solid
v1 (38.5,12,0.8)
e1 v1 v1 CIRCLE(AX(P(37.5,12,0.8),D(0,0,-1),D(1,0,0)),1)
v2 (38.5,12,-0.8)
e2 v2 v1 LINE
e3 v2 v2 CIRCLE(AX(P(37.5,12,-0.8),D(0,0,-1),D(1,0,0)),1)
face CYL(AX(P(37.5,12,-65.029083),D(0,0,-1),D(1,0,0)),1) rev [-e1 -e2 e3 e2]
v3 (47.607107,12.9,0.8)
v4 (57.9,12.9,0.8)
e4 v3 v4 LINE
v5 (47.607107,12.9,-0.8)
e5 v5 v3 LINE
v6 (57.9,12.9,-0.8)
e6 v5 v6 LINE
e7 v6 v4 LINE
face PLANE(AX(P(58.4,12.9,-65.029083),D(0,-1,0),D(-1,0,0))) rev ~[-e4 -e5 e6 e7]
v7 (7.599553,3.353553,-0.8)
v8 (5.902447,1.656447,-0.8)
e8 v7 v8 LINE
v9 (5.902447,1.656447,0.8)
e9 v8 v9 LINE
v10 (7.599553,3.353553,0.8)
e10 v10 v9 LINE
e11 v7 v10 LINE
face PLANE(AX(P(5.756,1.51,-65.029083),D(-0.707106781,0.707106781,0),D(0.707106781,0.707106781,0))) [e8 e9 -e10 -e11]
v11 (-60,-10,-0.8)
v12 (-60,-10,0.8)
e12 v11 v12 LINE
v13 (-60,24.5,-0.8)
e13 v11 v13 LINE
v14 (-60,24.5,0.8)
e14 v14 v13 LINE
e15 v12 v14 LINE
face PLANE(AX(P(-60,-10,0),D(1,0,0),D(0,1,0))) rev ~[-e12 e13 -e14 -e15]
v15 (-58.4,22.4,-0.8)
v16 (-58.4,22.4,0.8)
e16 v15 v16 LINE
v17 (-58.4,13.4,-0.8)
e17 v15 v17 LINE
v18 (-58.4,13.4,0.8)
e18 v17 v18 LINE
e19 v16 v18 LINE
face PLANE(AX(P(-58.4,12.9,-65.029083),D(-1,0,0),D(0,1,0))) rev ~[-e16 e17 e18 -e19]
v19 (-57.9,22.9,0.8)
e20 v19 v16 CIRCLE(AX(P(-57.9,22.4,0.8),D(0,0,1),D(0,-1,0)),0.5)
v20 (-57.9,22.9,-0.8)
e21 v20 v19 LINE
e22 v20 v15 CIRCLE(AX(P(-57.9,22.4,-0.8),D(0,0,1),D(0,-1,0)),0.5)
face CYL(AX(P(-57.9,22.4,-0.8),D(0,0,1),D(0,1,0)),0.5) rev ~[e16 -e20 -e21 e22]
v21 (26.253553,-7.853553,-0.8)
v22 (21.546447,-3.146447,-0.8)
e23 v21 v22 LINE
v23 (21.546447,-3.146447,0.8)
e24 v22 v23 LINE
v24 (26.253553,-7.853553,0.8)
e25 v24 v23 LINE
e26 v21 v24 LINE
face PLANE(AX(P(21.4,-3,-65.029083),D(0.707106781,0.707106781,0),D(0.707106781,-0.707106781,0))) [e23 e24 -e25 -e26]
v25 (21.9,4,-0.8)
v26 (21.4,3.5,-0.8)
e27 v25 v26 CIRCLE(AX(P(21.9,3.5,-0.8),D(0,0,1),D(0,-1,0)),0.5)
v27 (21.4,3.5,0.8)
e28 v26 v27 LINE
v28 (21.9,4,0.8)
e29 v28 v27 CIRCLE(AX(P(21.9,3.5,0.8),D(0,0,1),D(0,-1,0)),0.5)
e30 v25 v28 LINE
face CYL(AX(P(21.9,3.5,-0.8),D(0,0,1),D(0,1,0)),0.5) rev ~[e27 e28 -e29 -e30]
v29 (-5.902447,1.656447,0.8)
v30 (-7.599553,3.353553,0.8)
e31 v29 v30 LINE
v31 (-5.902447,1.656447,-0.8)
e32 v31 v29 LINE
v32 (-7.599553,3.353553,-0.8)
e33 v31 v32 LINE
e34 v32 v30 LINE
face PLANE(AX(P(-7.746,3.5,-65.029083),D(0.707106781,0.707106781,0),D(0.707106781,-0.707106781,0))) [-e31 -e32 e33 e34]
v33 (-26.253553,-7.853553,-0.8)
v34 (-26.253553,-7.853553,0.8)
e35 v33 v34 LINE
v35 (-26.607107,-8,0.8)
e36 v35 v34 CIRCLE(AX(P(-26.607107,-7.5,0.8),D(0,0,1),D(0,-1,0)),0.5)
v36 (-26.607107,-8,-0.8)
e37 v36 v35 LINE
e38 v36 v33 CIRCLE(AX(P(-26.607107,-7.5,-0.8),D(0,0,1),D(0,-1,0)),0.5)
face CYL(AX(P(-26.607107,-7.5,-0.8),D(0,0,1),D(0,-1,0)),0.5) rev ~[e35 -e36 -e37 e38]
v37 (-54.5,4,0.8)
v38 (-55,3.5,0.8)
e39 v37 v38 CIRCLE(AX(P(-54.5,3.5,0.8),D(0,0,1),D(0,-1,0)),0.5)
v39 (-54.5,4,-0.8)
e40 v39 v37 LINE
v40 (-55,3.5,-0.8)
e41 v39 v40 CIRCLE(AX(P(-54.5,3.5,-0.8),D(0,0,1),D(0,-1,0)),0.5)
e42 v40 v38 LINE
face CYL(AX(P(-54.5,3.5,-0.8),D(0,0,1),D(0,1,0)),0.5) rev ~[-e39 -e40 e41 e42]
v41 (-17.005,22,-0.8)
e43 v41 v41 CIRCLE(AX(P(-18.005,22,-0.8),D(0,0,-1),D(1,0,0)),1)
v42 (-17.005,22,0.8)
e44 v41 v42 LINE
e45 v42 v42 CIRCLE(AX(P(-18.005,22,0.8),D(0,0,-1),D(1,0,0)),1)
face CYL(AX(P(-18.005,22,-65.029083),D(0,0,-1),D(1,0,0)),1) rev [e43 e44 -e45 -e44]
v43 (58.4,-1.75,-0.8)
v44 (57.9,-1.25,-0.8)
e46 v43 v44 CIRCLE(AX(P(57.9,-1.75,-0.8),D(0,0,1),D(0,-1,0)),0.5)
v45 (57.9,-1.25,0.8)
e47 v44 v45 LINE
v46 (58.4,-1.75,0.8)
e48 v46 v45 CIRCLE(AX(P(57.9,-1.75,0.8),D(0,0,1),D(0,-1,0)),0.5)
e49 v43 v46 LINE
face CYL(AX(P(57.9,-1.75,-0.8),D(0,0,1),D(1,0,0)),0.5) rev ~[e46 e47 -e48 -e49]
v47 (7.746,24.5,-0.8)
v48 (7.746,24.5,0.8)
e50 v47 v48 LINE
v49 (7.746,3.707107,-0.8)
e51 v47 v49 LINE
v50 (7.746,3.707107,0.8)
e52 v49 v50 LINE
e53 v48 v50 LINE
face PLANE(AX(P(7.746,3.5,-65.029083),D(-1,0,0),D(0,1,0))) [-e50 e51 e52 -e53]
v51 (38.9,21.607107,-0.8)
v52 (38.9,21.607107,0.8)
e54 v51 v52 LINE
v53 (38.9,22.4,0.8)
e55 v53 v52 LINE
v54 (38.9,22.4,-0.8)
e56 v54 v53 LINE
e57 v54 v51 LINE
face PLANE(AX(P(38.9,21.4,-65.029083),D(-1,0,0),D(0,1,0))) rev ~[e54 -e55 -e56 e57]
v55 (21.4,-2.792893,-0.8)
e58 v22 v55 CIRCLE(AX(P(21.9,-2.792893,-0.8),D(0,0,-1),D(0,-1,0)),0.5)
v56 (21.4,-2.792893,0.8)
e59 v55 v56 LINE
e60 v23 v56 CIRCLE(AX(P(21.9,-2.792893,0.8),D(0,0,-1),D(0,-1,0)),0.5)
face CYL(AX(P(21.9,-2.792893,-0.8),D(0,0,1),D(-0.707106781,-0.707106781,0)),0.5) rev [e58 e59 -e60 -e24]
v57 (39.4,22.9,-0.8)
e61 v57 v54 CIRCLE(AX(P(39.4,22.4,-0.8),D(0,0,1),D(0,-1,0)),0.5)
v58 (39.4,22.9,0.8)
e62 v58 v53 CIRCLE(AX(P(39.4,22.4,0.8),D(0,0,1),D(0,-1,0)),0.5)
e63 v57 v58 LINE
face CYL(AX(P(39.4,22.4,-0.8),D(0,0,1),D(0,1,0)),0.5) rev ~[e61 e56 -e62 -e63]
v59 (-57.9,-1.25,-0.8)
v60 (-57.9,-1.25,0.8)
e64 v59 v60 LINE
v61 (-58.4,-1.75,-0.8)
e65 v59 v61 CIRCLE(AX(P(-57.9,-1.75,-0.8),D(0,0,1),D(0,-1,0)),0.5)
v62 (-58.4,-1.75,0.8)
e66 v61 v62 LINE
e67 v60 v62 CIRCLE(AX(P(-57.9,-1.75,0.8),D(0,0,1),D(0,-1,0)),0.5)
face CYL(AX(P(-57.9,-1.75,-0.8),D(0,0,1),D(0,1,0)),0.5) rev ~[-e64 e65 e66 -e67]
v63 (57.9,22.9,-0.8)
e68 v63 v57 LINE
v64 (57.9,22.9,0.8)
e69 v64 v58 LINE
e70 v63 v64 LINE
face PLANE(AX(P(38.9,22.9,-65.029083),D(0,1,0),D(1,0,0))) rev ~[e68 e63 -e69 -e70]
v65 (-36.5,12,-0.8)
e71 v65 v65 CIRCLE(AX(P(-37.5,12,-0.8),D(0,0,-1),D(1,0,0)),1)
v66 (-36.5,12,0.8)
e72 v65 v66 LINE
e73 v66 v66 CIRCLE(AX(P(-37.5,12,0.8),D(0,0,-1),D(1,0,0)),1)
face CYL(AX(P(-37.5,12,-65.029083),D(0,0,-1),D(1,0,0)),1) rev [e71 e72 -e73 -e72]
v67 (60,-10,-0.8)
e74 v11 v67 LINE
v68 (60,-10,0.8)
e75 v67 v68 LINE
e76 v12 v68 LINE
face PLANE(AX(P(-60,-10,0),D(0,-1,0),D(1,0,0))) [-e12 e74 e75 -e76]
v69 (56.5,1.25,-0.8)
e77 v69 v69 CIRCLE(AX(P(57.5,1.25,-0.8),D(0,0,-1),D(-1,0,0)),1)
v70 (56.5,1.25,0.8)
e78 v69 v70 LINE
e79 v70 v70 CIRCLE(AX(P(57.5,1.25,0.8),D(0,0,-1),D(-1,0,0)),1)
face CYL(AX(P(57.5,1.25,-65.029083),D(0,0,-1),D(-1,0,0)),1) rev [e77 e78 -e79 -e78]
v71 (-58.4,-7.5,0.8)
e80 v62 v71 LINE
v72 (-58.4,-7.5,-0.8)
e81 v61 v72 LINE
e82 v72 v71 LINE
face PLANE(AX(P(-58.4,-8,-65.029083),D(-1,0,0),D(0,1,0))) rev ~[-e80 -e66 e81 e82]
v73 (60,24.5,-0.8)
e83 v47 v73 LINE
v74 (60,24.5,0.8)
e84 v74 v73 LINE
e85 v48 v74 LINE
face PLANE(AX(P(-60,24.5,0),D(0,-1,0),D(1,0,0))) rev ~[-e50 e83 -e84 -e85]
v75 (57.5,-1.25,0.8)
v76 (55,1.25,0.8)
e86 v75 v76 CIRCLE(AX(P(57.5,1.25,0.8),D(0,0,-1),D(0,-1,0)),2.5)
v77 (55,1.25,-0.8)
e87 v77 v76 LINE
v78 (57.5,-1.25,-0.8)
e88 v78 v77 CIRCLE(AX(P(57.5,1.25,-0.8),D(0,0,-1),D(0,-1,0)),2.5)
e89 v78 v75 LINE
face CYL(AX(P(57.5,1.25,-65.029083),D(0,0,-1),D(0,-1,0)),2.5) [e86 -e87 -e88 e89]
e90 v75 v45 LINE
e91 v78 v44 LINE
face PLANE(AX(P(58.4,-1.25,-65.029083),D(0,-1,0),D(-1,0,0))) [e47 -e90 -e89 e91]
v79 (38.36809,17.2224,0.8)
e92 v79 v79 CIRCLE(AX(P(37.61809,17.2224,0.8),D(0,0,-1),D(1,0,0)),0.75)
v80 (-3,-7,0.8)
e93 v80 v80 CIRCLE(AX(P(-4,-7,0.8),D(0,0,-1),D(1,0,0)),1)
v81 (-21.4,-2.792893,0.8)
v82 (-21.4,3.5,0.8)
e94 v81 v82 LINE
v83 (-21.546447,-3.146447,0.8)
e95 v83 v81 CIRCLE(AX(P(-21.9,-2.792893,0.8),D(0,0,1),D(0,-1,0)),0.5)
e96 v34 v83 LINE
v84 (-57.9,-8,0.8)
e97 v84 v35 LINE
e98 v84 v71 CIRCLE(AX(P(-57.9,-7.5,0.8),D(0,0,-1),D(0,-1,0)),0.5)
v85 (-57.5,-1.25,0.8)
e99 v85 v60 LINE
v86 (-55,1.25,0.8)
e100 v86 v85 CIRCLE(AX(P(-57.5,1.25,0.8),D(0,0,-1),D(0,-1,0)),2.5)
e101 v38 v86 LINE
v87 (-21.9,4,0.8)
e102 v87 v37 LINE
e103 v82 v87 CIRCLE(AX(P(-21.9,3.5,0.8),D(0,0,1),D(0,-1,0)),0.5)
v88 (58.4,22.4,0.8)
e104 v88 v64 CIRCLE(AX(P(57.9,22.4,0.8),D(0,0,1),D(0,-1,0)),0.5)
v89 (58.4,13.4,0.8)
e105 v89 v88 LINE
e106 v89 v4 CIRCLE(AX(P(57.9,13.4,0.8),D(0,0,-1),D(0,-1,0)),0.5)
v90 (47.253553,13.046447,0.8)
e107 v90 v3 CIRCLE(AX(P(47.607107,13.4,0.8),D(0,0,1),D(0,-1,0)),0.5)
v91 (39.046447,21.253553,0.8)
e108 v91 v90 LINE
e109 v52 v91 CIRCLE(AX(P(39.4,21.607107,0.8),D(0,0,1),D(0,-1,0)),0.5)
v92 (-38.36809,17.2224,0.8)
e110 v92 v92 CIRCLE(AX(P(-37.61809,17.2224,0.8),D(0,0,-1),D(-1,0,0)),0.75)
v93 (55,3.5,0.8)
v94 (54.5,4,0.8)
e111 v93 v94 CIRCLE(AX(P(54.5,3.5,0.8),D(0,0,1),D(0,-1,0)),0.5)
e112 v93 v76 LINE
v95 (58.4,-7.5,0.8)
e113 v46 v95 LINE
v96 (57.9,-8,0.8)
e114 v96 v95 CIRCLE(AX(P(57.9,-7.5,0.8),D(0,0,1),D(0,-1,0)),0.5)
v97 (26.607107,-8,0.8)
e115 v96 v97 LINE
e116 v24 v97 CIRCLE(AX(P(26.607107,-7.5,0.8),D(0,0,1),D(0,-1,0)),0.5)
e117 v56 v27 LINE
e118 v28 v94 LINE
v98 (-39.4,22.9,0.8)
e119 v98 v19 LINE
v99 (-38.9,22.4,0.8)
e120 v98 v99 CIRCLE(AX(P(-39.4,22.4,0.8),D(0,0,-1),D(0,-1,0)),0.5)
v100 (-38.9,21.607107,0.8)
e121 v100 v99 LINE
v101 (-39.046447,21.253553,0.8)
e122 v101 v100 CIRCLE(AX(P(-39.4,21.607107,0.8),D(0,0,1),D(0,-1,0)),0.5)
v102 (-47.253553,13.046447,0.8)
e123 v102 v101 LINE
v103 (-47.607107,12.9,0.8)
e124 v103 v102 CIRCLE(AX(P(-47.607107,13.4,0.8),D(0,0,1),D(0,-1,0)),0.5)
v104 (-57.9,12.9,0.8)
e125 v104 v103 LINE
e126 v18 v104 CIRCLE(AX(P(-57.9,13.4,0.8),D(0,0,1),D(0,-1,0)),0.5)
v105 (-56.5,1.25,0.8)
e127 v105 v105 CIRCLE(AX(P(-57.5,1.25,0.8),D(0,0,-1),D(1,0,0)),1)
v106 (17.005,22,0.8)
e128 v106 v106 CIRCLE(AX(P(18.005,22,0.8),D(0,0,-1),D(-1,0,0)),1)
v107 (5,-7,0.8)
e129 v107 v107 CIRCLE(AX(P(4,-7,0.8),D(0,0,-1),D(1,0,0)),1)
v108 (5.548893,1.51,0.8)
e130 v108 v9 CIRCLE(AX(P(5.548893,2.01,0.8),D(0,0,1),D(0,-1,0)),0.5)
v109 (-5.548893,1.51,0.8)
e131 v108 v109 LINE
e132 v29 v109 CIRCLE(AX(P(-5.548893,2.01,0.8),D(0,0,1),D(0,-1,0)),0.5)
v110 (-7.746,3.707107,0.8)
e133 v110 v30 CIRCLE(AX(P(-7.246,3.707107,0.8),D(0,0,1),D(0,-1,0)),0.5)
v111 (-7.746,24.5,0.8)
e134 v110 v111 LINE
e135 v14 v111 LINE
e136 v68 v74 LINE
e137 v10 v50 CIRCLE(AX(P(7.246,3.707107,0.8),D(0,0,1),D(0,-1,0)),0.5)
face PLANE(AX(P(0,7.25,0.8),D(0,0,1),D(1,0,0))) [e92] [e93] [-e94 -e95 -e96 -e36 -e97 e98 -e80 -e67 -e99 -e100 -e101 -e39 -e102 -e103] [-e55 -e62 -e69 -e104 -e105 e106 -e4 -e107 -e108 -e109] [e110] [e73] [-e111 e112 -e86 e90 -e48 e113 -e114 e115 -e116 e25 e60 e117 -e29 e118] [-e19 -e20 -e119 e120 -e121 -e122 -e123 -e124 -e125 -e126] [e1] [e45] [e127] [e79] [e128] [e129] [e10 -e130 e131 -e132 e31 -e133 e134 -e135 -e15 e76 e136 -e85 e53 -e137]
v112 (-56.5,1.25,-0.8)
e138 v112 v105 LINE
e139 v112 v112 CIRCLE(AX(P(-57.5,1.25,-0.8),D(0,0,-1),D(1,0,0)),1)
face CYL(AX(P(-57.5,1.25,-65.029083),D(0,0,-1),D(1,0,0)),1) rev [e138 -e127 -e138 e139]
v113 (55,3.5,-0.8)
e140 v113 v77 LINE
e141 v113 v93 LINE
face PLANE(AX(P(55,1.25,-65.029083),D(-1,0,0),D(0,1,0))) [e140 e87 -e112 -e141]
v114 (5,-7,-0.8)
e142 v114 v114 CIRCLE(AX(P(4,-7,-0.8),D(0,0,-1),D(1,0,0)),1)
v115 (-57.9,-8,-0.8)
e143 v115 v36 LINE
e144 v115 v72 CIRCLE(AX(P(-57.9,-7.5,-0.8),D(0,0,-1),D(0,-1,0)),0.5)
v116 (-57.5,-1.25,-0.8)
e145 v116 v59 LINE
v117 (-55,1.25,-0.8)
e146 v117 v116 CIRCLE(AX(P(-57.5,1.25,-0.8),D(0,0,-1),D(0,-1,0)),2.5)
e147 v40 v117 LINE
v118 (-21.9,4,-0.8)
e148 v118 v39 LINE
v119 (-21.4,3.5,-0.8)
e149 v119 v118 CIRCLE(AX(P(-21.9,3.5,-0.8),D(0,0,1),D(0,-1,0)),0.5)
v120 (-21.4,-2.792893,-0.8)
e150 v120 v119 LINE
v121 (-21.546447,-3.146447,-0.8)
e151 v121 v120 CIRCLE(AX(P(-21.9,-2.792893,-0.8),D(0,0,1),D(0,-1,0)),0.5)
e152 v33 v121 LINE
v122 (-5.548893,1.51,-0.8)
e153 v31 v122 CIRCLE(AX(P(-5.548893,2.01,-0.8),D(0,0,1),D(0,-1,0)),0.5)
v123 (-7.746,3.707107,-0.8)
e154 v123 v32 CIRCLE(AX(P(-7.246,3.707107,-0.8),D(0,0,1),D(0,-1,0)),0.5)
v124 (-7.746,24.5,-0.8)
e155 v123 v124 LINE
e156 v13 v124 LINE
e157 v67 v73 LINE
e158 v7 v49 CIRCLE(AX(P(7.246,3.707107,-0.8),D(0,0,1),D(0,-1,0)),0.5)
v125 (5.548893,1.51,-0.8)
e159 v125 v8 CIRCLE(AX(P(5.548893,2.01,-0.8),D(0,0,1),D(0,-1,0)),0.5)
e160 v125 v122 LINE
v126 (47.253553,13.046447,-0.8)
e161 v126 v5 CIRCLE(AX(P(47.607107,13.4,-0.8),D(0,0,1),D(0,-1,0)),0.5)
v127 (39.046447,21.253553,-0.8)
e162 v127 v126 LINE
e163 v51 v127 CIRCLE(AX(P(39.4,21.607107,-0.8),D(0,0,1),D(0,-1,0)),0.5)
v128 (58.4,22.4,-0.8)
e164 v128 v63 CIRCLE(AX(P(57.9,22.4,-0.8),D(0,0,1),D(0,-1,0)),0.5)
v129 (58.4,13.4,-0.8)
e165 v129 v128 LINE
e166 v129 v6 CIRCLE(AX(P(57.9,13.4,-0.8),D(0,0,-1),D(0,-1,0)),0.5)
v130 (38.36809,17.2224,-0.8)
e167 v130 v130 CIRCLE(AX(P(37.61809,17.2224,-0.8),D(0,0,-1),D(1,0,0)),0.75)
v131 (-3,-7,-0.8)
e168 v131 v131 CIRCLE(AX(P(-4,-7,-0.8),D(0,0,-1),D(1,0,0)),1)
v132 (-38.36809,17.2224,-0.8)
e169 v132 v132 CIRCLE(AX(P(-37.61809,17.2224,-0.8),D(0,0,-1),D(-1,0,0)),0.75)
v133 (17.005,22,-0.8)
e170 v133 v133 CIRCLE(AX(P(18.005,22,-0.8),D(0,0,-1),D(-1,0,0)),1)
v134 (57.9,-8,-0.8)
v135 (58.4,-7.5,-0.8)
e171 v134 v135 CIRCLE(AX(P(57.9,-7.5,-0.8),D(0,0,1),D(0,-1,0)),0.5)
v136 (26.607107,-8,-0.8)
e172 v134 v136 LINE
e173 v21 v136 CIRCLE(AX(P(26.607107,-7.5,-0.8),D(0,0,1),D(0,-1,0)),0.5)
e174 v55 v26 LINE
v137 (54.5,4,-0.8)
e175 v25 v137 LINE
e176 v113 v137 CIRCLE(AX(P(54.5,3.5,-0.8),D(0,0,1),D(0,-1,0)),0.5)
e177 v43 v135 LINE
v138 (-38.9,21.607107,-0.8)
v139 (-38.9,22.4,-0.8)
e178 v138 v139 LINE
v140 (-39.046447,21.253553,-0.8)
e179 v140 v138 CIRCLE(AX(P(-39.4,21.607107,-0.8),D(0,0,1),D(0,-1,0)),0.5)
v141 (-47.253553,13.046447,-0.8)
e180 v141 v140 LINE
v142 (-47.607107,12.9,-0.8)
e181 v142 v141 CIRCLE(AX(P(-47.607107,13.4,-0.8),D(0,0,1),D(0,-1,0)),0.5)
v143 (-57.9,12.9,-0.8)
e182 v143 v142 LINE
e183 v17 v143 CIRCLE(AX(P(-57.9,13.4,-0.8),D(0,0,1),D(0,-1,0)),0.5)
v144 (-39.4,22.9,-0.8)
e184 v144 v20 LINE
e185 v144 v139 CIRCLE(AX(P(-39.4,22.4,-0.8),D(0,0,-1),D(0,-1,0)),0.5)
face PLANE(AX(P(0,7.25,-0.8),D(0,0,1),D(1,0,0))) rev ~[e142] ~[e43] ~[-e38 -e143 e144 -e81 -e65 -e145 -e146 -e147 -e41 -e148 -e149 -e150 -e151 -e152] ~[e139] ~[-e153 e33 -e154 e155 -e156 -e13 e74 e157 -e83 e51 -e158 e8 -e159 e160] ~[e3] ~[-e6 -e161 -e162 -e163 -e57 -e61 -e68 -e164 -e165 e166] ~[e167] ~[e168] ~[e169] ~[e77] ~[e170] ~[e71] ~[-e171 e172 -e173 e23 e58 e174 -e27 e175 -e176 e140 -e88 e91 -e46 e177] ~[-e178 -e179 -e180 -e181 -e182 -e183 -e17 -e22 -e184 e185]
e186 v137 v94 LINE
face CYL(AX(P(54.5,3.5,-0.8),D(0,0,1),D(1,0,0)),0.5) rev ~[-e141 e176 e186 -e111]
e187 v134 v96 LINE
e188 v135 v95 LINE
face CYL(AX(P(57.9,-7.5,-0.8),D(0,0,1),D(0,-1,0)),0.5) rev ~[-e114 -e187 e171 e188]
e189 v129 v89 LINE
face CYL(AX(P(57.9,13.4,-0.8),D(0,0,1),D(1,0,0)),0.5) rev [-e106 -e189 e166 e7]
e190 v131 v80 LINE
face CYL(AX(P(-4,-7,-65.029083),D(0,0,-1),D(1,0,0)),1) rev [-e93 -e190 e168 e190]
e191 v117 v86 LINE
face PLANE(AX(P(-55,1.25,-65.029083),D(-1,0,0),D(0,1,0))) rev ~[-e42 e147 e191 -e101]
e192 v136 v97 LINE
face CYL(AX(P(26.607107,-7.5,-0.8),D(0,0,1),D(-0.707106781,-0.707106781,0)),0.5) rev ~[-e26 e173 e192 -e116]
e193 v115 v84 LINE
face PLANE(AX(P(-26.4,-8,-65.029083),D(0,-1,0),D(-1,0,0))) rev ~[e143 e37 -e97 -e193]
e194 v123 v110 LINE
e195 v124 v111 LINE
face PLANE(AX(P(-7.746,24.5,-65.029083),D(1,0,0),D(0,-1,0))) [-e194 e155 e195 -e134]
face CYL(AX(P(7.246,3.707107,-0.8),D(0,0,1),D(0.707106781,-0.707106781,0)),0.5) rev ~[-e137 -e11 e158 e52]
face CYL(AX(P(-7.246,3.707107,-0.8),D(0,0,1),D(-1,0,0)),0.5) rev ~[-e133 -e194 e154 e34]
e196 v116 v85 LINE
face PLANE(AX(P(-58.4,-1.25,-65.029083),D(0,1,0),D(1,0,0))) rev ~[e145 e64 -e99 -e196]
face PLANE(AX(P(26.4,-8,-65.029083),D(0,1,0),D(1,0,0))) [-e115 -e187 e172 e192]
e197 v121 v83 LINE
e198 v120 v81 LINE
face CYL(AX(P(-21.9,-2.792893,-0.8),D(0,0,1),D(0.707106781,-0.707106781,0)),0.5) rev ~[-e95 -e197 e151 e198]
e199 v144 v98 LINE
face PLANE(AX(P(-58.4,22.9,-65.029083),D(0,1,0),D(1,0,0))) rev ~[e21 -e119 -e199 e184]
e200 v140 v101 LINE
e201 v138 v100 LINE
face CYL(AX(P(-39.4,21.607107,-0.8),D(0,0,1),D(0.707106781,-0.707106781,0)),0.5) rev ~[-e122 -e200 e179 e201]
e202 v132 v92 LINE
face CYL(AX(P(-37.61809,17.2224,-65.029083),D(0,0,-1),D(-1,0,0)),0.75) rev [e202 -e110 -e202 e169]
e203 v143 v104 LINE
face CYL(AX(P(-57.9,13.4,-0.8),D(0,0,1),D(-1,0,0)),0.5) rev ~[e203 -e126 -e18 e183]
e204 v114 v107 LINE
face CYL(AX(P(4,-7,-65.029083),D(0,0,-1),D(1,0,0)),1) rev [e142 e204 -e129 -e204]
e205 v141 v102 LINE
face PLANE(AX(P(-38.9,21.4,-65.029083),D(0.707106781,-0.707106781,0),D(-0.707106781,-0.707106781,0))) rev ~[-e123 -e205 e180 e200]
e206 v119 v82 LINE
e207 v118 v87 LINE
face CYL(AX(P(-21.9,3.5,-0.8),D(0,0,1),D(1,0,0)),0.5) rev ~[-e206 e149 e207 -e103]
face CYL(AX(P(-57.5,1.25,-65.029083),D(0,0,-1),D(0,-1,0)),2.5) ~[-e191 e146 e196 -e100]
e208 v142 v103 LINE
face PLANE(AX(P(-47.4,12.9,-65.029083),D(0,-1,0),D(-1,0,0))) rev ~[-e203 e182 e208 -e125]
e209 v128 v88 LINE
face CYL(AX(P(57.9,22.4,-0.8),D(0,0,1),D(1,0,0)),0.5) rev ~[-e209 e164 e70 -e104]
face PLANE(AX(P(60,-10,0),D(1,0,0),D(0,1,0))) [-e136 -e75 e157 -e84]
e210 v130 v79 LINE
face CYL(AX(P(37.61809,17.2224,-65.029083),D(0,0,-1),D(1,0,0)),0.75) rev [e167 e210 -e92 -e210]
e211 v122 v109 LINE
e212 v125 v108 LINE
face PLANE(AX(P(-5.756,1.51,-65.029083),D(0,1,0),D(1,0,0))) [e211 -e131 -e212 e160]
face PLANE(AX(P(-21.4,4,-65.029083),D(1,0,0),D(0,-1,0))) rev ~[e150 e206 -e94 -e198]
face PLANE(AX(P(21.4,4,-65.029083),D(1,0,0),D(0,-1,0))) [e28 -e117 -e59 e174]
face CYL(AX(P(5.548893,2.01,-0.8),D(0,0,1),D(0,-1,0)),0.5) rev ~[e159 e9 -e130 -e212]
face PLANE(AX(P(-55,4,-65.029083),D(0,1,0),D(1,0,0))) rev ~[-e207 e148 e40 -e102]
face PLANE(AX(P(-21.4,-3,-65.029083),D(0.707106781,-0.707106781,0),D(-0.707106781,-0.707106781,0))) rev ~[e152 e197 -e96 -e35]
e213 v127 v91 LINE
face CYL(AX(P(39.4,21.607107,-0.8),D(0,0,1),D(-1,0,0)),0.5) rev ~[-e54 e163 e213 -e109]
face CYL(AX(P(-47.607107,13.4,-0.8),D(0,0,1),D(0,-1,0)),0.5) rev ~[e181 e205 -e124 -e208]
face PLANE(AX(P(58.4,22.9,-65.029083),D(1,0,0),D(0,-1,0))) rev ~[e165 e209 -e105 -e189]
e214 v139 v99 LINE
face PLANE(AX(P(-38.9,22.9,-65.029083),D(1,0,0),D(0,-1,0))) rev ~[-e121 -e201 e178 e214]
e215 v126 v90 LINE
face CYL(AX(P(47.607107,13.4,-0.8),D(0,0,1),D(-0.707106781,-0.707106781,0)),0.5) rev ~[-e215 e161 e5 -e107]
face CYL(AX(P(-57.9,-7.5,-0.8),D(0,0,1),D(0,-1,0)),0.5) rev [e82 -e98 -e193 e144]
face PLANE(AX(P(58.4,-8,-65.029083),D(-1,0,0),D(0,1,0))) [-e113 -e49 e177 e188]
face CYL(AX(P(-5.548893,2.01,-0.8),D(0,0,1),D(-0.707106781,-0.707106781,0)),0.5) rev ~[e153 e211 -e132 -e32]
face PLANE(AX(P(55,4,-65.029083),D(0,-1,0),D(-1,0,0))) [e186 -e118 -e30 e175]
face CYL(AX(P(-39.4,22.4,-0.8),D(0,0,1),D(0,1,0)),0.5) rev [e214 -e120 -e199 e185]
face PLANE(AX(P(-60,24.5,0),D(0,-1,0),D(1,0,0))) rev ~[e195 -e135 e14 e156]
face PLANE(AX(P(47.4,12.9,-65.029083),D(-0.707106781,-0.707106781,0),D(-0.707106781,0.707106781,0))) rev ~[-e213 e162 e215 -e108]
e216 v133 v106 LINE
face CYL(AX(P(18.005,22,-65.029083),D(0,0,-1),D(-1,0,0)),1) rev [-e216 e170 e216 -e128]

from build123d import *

# Parameters (mm, degrees)
SKETCH1_W               = 120
SKETCH1_H               = 34.5
BOSS_EXTRUDE1_DEPTH     = 0.8
CUT_EXTRUDE1_DEPTH      = 65.82908298
CUT_EXTRUDE1_DEPTH_BACK = 65.82908298
SKETCH2_R               = 1
SKETCH2_R_2             = 0.75
FILLET1_R               = 0.5


with BuildPart() as part:
    # Sketch1 → Boss-Extrude1 (new, symmetric)
    with BuildSketch(Plane.XY):
        with Locations((0, 7.25)):
            Rectangle(SKETCH1_W, SKETCH1_H)
    extrude(amount=BOSS_EXTRUDE1_DEPTH, both=True)

    # Sketch2 → Cut-Extrude1 (cut, two sides: drawn at the far end of the back side and taken through both)
    with BuildSketch(Plane.XY.offset(0.8).offset(-CUT_EXTRUDE1_DEPTH_BACK)):
        with Locations((-37.5, 12)):
            Circle(SKETCH2_R)
        with Locations((-4, -7)):
            Circle(SKETCH2_R)
        with Locations((37.5, 12)):
            Circle(SKETCH2_R)
        with Locations((-57.5, 1.25)):
            Circle(SKETCH2_R)
        with Locations(Location((57.5, 1.25, 0), (0, 0, 180))):
            Circle(SKETCH2_R)
        with Locations((4, -7)):
            Circle(SKETCH2_R)
        with Locations((-18.005, 22)):
            Circle(SKETCH2_R)
        with Locations(Location((18.005, 22, 0), (0, 0, 180))):
            Circle(SKETCH2_R)
        with Locations((37.618090351, 17.2224)):
            Circle(SKETCH2_R_2)
        with Locations(Location((-37.618090351, 17.2224, 0), (0, 0, 180))):
            Circle(SKETCH2_R_2)
        with BuildLine():
            Line((-26.4, -8), (-58.4, -8))
            Line((-58.4, -8), (-58.4, -1.25))
            Line((-58.4, -1.25), (-57.5, -1.25))
            ThreePointArc((-57.5, -1.25), (-55.732233047, -0.517766953), (-55, 1.25))
            Line((-55, 1.25), (-55, 4))
            Line((-55, 4), (-26.4, 4))
            Line((-26.4, 4), (-21.4, 4))
            Line((-21.4, 4), (-21.4, -3))
            Line((-21.4, -3), (-26.4, -8))
        make_face()
        Polygon((-58.4, 22.9), (-38.9, 22.9), (-38.9, 21.4), (-47.4, 12.9), (-58.4, 12.9), align=None)
        Polygon((7.746, 24.5), (-7.746, 24.5), (-7.746, 3.5), (-5.756, 1.51), (5.756, 1.51), (7.746, 3.5), align=None)
        Polygon((58.4, 22.9), (58.4, 12.9), (47.4, 12.9), (38.9, 21.4), (38.9, 22.9), align=None)
        with BuildLine():
            Line((21.4, 4), (21.4, -3))
            Line((21.4, -3), (26.4, -8))
            Line((26.4, -8), (58.4, -8))
            Line((58.4, -8), (58.4, -1.25))
            Line((58.4, -1.25), (57.5, -1.25))
            ThreePointArc((57.5, -1.25), (55.732233047, -0.517766953), (55, 1.25))
            Line((55, 1.25), (55, 4))
            Line((55, 4), (26.4, 4))
            Line((26.4, 4), (21.4, 4))
        make_face()
    extrude(amount=CUT_EXTRUDE1_DEPTH + CUT_EXTRUDE1_DEPTH_BACK, mode=Mode.SUBTRACT)

    # Fillet1
    fillet1_edges = [part.edges().sort_by_distance(p)[0] for p in [
        (-7.746, 3.5, 0),
        (-5.756, 1.51, 0),
        (5.756, 1.51, 0),
        (7.746, 3.5, 0),
        (-26.4, -8, 0),
        (-58.4, -8, 0),
        (-21.4, -3, 0),
        (-21.4, 4, 0),
        (-55, 4, 0),
        (-58.4, -1.25, 0),
        (21.4, -3, 0),
        (26.4, -8, 0),
        (58.4, -8, 0),
        (58.4, -1.25, 0),
        (55, 4, 0),
        (21.4, 4, 0),
        (-58.4, 22.9, 0),
        (-38.9, 22.9, 0),
        (-58.4, 12.9, 0),
        (-47.4, 12.9, 0),
        (-38.9, 21.4, 0),
        (58.4, 22.9, 0),
        (58.4, 12.9, 0),
        (38.9, 22.9, 0),
        (38.9, 21.4, 0),
        (47.4, 12.9, 0),
    ]]
    fillet(fillet1_edges, radius=FILLET1_R)


solid = part.part
